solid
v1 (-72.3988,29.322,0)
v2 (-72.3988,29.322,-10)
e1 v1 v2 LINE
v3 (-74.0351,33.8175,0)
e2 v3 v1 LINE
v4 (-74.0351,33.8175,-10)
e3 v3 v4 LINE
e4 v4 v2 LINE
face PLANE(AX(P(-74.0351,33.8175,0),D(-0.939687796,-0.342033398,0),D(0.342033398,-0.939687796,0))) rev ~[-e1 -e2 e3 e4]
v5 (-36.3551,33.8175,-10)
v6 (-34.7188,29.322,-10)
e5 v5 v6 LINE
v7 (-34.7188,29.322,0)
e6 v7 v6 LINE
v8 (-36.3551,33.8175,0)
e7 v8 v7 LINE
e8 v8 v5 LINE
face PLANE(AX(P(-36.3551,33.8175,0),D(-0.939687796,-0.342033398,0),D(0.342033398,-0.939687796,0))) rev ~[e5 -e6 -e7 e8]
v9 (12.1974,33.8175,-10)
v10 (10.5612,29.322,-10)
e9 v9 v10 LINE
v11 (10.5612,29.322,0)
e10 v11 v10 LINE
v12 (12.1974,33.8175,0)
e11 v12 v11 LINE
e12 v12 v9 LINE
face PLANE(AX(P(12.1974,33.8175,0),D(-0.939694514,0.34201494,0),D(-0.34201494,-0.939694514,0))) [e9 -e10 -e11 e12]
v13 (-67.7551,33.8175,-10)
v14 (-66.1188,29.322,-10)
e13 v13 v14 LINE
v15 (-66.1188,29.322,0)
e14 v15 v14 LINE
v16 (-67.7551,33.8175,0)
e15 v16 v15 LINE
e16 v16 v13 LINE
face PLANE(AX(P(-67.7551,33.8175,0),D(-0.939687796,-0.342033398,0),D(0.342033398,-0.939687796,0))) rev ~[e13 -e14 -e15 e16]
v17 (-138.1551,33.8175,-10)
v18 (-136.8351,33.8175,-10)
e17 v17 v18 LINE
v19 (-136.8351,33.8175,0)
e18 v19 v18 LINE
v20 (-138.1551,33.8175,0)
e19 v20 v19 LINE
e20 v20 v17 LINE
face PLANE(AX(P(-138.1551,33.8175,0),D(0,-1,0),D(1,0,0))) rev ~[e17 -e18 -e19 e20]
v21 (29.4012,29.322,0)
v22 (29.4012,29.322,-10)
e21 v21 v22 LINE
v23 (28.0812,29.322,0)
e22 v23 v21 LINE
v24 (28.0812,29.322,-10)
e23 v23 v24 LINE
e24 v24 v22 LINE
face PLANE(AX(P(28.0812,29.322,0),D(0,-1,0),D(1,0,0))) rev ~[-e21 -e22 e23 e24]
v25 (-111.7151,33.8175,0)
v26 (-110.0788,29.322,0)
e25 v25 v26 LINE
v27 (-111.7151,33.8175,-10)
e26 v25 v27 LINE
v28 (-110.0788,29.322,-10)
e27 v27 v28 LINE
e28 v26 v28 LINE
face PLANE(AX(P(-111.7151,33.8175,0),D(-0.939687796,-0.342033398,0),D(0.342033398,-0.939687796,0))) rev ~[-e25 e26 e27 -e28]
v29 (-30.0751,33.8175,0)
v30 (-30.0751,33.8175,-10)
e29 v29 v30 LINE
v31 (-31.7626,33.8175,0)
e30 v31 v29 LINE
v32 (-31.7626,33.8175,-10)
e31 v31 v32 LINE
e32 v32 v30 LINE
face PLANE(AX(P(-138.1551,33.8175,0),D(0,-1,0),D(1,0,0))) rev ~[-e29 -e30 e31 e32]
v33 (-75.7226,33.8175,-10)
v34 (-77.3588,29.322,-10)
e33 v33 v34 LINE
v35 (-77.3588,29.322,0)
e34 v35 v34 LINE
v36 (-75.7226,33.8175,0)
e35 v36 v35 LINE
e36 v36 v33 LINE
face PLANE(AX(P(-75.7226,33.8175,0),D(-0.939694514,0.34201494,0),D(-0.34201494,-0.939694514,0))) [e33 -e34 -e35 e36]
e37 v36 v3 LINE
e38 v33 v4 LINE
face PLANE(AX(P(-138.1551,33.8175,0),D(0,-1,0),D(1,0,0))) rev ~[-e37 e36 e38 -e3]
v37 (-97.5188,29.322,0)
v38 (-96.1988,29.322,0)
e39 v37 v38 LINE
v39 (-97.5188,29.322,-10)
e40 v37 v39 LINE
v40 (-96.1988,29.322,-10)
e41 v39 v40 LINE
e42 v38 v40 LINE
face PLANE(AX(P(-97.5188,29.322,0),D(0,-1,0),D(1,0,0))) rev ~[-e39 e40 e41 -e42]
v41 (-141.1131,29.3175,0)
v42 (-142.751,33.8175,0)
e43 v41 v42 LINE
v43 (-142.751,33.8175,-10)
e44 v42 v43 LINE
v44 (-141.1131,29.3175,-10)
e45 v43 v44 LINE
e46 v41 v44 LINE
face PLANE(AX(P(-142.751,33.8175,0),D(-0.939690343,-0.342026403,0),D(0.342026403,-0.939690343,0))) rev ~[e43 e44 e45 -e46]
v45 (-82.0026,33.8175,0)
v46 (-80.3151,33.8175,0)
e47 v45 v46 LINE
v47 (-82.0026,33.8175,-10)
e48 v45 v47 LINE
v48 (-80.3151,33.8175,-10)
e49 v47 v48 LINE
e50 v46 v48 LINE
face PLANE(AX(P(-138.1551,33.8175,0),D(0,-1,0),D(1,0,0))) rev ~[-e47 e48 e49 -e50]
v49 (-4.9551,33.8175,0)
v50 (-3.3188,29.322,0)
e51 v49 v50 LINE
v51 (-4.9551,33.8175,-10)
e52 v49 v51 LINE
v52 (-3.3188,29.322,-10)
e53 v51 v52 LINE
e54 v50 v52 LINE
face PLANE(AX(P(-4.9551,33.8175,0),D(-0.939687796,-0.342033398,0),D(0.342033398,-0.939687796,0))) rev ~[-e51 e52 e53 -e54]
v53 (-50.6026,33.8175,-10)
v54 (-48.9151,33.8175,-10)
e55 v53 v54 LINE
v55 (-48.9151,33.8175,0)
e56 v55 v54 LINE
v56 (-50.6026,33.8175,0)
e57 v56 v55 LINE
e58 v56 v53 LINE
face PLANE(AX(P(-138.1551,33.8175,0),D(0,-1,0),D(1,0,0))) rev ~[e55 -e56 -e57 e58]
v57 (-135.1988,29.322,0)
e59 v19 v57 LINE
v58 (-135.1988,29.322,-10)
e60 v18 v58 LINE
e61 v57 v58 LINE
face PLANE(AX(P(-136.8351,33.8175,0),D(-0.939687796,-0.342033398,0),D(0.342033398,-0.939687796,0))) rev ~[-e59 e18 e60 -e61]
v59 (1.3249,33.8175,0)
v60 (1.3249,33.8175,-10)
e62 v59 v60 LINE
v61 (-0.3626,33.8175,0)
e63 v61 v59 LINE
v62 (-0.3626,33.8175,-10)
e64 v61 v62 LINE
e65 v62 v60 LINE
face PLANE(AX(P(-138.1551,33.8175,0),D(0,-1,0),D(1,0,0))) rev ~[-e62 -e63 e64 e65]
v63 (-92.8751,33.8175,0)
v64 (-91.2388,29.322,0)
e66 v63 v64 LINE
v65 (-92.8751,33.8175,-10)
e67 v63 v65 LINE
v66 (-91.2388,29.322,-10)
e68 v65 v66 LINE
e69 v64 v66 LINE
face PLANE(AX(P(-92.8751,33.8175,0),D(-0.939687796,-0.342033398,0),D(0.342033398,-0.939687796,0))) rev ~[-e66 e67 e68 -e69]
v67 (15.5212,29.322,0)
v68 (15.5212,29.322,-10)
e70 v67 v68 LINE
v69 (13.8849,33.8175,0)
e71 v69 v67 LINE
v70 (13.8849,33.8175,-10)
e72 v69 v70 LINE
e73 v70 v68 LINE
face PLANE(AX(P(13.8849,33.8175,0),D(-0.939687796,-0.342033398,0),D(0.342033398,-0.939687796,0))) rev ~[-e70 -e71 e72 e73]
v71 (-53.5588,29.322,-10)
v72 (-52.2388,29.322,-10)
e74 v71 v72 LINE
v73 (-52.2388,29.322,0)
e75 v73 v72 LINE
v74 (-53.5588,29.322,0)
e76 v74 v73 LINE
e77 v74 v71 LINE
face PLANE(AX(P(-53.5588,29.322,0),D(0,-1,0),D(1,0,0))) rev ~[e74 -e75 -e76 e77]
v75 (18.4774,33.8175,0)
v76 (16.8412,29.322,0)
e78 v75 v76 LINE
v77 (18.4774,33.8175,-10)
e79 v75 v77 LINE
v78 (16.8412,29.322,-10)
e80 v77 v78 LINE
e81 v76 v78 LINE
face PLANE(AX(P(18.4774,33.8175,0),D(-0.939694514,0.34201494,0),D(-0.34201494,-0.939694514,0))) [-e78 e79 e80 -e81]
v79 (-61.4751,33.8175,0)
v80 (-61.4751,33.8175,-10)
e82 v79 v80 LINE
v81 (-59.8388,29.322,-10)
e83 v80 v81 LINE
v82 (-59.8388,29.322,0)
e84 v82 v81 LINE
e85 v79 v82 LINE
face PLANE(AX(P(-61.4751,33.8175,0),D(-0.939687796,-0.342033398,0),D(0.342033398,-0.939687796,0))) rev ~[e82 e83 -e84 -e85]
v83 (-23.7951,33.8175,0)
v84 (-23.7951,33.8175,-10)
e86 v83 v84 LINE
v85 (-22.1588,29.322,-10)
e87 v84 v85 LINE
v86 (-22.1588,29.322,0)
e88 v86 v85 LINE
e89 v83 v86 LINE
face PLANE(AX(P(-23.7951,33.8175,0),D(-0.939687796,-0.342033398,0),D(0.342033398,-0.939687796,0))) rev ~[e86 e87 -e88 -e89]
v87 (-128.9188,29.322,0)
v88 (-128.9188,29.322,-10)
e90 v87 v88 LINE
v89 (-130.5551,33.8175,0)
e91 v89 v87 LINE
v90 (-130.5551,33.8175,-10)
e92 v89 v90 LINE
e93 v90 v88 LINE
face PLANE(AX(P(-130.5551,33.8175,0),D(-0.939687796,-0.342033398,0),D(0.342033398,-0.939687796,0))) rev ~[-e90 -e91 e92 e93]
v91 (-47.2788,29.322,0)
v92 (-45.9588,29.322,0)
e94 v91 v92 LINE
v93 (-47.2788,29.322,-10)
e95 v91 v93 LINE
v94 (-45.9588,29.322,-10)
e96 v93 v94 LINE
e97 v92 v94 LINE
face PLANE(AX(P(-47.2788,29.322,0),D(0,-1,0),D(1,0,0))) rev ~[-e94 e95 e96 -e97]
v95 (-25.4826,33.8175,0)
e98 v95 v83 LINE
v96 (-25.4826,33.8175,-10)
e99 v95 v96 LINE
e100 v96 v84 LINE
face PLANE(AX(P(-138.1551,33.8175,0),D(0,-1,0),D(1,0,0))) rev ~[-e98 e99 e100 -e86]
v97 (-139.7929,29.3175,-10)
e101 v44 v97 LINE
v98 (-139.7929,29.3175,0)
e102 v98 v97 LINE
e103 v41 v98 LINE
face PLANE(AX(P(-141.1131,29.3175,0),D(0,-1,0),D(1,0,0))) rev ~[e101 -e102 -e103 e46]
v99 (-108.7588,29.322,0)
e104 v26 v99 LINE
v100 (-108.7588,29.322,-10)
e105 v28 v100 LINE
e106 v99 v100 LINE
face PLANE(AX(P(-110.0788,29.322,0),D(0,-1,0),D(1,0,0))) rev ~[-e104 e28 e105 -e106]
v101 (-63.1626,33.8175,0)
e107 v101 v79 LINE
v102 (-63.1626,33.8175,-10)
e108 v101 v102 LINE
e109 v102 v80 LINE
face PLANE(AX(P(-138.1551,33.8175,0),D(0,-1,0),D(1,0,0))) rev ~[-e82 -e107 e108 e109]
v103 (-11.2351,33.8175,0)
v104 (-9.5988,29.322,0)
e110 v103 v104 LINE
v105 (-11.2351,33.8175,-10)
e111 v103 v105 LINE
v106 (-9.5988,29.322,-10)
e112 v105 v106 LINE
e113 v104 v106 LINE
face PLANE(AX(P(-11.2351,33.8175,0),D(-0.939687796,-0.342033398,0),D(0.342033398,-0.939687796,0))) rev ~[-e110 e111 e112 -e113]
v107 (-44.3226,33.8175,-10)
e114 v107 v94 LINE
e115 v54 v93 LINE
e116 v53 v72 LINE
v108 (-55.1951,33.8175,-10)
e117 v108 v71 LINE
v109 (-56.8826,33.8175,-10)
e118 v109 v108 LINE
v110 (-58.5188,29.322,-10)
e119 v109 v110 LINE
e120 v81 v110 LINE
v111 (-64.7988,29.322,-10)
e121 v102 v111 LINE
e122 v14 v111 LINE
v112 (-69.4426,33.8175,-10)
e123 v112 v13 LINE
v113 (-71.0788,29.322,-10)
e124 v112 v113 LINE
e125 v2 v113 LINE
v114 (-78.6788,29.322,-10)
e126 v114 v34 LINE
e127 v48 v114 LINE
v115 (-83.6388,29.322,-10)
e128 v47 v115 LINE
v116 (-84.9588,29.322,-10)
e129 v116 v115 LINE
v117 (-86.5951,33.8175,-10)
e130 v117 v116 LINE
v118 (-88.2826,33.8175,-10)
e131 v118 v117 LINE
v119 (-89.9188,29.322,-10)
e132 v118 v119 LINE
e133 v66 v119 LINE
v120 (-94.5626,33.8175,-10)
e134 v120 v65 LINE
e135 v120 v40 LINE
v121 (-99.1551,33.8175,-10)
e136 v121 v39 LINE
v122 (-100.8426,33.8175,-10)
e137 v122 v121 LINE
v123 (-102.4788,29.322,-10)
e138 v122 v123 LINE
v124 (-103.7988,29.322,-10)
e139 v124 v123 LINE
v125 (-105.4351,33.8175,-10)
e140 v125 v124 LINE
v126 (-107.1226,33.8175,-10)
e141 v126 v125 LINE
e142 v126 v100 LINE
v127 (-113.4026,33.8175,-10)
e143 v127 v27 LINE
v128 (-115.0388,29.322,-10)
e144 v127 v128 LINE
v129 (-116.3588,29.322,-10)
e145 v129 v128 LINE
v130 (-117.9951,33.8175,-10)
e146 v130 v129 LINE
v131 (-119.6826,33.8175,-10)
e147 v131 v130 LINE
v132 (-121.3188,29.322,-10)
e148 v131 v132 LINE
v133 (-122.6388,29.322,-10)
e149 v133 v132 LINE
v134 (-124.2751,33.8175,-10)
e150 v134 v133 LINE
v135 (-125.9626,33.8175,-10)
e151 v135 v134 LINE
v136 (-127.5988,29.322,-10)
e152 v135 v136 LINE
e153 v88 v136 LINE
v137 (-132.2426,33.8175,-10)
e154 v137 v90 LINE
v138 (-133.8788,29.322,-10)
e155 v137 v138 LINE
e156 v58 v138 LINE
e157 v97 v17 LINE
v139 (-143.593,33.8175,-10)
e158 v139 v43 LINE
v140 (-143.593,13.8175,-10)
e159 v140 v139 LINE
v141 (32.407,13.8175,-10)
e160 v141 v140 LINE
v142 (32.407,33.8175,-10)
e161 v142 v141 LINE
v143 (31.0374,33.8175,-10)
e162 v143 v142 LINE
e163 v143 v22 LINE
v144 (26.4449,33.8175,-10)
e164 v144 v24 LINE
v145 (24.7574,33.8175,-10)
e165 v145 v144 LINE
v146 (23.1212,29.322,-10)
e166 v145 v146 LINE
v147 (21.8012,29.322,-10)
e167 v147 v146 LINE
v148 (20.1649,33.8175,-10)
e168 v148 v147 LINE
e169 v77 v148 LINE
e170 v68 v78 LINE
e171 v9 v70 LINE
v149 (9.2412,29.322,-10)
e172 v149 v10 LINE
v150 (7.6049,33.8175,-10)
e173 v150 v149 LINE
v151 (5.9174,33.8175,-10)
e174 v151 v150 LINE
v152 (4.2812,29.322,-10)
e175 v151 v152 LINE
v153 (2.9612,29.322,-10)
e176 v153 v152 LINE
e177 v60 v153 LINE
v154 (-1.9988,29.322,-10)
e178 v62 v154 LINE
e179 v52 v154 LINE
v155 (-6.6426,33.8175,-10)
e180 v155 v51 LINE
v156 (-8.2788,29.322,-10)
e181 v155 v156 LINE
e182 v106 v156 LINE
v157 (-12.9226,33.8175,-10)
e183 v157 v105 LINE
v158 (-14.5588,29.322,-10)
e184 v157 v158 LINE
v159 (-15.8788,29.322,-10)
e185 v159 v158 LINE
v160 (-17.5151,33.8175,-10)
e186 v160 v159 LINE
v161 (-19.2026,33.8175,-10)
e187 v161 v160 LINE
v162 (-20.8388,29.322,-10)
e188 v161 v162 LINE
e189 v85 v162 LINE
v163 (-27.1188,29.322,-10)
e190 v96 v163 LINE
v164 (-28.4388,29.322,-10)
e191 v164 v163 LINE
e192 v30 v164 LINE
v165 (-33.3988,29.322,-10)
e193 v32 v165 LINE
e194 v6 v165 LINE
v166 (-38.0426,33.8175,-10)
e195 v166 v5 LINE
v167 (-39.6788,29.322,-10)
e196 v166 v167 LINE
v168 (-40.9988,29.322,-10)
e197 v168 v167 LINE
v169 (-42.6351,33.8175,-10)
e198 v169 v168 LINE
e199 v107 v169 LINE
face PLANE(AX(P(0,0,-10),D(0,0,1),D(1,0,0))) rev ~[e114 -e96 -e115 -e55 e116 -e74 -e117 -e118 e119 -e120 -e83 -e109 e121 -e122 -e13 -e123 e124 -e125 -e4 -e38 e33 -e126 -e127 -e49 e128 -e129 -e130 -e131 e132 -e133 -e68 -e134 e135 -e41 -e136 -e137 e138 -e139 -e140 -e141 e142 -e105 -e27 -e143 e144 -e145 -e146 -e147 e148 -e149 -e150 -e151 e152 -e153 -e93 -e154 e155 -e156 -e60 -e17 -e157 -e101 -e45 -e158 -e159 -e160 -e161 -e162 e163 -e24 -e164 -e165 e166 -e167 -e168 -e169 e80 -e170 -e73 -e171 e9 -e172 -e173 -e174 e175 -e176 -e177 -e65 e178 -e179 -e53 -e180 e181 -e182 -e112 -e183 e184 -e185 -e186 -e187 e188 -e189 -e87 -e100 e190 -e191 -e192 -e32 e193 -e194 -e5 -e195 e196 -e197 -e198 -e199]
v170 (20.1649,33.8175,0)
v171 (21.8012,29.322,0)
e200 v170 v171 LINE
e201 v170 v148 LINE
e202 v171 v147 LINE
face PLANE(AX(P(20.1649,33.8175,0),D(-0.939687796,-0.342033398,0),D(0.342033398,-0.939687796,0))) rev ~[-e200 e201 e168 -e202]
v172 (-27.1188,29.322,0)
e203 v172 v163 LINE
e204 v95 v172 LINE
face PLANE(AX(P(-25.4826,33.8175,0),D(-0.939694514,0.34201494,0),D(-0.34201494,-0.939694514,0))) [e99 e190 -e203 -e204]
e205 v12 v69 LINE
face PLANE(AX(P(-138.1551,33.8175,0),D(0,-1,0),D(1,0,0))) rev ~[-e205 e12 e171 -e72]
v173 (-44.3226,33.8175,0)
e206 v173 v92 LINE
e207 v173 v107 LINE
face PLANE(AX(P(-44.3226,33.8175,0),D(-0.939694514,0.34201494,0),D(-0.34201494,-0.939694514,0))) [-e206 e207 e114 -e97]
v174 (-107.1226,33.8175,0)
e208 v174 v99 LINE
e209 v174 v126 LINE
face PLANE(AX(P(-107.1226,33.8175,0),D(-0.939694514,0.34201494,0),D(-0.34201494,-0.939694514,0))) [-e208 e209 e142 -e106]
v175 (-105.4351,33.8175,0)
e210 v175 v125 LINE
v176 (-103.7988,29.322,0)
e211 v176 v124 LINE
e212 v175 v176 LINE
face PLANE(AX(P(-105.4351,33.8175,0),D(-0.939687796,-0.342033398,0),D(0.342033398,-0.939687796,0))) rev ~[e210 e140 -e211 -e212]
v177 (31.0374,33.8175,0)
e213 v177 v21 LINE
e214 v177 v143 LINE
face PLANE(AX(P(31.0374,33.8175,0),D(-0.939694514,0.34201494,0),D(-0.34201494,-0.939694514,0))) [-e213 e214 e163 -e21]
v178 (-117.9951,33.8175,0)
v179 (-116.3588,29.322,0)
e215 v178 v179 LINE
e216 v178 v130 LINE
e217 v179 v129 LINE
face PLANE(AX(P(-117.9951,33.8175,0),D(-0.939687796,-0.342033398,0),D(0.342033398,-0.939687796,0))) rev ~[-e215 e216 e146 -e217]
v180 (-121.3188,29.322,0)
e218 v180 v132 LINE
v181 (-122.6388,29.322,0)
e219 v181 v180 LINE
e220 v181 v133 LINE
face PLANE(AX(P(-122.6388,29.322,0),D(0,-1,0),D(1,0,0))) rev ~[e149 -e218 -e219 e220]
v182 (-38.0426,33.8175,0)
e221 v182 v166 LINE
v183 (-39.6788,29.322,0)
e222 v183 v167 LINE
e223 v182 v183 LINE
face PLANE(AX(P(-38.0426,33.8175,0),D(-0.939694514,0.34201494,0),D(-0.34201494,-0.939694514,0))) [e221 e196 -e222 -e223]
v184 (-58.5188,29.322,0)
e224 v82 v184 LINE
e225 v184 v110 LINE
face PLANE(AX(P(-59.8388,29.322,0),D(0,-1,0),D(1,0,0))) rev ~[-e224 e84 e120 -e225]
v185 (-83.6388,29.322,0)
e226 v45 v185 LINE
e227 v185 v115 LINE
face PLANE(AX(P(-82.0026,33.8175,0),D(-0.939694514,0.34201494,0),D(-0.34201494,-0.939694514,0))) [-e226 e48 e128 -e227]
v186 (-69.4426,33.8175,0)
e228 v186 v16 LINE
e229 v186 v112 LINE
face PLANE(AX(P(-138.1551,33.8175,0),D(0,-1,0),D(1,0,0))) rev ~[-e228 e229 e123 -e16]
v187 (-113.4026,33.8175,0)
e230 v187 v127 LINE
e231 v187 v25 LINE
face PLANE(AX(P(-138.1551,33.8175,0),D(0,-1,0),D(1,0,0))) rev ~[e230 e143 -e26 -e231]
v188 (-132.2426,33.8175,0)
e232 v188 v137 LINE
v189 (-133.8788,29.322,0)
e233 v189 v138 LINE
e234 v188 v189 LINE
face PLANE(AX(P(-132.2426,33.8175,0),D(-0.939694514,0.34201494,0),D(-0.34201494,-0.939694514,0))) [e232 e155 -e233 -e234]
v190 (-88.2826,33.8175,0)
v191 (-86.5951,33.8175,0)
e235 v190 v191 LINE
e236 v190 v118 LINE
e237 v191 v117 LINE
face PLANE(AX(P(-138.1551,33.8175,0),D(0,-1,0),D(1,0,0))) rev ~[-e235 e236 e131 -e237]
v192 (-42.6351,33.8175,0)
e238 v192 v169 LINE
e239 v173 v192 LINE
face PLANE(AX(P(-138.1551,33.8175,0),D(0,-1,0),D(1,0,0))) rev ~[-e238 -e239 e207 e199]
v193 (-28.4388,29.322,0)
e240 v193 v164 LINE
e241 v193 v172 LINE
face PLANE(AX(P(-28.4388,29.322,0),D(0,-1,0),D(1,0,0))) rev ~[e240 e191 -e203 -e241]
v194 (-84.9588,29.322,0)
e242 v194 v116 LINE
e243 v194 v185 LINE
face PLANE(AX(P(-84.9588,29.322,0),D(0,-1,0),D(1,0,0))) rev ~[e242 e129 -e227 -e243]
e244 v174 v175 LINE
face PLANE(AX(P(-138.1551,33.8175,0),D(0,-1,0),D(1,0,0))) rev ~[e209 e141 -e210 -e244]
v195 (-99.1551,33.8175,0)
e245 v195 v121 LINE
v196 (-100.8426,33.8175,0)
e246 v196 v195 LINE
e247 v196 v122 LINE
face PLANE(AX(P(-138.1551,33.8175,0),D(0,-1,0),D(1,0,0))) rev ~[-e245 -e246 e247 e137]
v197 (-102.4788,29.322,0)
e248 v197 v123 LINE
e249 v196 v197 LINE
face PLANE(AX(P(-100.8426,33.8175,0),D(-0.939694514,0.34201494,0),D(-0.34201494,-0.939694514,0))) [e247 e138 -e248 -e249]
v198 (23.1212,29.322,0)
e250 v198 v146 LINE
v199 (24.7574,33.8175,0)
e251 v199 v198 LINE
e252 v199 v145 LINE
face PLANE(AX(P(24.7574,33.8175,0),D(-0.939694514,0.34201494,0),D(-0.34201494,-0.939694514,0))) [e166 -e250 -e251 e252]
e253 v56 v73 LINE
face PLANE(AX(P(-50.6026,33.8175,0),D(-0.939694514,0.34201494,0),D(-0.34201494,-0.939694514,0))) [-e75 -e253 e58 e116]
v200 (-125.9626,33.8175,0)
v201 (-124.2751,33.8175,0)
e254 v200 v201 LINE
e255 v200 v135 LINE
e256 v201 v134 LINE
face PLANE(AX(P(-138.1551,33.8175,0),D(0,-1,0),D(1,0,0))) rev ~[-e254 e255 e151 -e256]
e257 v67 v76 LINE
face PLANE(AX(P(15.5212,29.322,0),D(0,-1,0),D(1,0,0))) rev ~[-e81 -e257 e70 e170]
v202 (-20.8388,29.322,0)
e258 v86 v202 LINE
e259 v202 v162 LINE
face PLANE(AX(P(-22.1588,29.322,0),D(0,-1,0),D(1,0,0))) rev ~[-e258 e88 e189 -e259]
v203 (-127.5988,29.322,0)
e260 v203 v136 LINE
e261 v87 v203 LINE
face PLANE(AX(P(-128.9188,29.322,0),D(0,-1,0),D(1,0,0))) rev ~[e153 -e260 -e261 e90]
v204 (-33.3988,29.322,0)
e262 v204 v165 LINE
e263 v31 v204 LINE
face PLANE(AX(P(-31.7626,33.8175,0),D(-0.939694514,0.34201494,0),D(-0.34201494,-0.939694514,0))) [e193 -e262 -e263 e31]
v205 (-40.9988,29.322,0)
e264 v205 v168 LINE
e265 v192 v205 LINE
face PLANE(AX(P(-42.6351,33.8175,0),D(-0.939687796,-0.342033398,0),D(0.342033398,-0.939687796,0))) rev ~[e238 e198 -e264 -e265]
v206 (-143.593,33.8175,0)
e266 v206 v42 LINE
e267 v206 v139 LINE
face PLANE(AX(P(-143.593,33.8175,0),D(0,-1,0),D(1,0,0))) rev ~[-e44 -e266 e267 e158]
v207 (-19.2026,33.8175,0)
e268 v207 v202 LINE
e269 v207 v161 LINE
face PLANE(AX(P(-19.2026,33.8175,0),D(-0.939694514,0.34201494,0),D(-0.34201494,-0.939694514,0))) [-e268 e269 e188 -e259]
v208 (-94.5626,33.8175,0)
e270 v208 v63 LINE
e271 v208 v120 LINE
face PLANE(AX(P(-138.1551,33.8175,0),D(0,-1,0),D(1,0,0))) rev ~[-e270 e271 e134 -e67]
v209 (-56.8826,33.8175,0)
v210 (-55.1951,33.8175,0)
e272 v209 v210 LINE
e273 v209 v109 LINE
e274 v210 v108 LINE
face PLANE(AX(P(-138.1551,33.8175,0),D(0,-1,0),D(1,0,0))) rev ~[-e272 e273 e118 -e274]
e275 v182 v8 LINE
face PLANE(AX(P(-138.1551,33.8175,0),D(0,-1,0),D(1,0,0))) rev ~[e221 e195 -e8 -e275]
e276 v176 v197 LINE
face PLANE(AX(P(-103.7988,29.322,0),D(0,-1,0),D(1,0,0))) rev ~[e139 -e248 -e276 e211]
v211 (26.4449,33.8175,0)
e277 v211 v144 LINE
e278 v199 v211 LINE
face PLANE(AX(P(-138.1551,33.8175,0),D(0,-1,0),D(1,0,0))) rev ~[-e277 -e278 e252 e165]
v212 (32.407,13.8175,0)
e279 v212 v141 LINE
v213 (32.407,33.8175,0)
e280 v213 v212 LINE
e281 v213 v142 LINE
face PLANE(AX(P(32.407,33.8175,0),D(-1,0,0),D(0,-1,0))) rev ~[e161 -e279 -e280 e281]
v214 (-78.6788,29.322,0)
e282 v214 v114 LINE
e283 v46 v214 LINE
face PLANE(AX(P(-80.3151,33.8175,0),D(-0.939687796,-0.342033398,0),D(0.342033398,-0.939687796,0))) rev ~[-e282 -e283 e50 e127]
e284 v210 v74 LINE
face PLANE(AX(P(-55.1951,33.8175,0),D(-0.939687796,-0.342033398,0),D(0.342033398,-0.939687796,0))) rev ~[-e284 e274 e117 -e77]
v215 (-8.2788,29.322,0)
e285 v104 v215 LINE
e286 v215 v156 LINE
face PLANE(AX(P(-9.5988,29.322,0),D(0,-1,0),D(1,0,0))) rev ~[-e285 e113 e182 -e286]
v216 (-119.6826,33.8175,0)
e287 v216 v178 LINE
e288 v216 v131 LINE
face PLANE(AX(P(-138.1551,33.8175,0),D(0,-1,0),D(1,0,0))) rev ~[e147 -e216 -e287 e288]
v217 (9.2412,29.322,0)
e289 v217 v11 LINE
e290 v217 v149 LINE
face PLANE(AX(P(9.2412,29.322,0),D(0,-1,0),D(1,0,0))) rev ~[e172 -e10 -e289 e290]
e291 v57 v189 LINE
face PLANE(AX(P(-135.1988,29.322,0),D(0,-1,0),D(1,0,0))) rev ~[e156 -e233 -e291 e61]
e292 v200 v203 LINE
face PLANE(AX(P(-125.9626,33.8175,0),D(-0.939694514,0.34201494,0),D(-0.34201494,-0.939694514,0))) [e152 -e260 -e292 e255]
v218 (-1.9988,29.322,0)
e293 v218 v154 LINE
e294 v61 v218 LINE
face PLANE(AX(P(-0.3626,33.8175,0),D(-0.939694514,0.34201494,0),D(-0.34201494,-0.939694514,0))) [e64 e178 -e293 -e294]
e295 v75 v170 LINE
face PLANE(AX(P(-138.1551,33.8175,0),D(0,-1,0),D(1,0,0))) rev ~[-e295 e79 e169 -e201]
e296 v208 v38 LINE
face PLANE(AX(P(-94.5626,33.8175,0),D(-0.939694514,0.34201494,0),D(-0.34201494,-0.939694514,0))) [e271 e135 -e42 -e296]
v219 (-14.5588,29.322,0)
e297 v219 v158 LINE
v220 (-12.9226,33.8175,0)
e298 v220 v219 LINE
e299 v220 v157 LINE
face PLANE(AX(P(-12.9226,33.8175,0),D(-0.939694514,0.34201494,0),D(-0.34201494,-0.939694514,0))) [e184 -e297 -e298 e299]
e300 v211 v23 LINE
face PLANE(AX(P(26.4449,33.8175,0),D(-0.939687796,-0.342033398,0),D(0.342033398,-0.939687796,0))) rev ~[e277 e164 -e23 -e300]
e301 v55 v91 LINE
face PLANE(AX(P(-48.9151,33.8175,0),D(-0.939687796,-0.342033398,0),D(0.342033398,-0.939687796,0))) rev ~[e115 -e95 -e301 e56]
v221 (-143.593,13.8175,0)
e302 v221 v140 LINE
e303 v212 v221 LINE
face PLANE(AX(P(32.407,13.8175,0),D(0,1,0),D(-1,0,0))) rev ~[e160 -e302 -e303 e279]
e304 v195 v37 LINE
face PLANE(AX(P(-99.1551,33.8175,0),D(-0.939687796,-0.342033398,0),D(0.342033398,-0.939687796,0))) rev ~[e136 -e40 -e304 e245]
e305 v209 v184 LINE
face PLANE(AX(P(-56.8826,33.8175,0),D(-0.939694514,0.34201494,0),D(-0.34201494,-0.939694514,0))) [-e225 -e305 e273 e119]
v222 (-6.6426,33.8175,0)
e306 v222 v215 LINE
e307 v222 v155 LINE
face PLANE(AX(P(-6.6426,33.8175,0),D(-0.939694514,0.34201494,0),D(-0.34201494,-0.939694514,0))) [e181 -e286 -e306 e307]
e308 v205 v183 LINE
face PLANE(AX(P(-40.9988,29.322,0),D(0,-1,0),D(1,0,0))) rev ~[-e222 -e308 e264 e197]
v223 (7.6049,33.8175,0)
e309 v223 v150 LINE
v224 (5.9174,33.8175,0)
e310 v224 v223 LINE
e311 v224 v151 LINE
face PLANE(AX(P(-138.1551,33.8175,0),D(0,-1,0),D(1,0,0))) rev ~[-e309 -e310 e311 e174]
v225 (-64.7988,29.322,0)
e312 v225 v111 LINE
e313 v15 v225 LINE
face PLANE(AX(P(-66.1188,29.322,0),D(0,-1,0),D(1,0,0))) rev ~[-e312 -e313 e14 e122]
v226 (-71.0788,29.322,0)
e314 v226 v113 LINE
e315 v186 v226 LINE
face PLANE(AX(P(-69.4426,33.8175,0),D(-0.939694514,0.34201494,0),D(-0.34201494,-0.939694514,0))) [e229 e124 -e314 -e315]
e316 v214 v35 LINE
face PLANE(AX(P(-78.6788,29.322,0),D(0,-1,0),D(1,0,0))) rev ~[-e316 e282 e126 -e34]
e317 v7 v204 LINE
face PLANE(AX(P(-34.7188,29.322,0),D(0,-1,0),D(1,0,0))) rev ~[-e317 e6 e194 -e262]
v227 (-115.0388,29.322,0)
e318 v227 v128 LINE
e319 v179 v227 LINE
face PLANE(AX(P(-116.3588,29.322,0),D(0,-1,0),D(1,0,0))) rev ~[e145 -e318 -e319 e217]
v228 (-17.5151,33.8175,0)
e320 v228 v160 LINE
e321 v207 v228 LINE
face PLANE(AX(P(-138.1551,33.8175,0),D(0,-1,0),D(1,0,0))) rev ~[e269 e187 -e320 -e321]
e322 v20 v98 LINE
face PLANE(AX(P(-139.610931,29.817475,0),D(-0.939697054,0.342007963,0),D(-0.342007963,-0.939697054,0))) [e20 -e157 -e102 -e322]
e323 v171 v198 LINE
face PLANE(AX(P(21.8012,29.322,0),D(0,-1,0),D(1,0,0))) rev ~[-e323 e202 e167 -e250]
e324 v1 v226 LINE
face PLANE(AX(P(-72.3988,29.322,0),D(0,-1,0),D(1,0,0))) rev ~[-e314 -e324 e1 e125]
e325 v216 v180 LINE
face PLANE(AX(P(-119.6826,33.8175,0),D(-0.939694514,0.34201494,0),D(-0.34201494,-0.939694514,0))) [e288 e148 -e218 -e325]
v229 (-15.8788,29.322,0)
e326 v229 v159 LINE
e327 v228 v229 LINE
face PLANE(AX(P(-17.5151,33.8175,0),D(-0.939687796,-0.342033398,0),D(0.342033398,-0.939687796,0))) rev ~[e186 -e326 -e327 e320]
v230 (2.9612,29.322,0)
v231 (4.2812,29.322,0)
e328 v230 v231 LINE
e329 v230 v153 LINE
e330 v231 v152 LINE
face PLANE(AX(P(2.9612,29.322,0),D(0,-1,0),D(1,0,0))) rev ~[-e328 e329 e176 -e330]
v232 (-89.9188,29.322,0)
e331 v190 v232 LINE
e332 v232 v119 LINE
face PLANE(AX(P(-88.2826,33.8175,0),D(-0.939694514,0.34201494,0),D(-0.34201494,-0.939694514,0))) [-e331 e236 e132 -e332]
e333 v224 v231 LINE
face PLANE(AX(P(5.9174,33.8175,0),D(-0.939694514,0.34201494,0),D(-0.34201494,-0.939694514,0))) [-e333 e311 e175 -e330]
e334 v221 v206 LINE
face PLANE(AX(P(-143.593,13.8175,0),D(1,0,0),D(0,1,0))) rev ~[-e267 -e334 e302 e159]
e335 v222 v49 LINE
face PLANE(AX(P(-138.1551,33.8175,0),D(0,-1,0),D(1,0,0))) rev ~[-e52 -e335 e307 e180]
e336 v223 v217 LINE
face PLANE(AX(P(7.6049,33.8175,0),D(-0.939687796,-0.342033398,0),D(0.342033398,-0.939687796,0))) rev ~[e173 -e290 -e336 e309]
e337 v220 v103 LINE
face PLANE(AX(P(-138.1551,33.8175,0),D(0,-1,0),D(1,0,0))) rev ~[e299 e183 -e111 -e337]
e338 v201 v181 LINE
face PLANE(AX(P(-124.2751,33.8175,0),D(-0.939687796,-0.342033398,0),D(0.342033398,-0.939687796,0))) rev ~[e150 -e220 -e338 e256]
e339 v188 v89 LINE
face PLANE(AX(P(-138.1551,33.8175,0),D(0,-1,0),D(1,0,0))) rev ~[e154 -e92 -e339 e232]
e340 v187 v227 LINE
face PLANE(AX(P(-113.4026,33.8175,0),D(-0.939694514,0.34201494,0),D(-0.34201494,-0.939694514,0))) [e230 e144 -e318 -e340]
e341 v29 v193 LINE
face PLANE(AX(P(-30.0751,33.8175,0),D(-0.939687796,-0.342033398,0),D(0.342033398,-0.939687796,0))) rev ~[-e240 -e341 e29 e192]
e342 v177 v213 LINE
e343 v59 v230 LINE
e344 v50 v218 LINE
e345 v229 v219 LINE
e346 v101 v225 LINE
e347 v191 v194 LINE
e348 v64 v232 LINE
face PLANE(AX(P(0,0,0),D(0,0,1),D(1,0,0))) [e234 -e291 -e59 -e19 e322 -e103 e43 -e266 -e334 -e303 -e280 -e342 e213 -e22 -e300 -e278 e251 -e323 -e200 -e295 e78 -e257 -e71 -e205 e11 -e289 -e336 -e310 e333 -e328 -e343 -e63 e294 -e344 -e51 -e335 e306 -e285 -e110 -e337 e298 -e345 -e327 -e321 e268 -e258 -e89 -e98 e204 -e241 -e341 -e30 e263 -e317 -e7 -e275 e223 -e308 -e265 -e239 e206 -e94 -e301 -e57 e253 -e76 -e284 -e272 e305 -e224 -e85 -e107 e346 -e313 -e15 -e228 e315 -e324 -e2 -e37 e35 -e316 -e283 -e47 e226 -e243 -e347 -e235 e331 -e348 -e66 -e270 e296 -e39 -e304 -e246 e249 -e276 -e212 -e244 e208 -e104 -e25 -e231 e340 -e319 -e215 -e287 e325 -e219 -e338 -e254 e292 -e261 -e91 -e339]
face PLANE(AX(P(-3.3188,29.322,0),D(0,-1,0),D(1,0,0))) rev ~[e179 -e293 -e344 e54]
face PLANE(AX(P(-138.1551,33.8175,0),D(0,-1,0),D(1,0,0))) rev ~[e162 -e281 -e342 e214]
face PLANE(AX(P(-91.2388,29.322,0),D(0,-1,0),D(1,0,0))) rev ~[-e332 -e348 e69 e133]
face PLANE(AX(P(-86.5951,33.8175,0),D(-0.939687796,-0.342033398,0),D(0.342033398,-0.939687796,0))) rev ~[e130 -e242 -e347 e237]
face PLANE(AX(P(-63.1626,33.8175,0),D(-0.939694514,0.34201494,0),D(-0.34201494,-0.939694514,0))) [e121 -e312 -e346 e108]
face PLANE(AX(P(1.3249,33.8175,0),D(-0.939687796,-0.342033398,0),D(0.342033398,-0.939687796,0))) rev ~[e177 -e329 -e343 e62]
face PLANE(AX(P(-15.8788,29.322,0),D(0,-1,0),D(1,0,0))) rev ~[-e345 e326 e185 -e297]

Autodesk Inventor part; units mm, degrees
ref_plane "YZ Plane" through (0, 0, 0) normal (1, 0, 0) x (0, 1, 0)
ref_plane "XZ Plane" through (0, 0, 0) normal (0, 1, 0) x (-1, 0, 0)
ref_plane "XY Plane" through (0, 0, 0) normal (0, 0, 1) x (1, 0, 0)
sketch "스케치1" plane through (0, 0, 0) normal (0, 0, 1) x (1, 0, 0)
  line L0 (32.407, 33.8175) -> (32.407, 13.8175)
  line L1 (32.407, 13.8175) -> (-143.593, 13.8175)
  line L2 (-143.593, 13.8175) -> (-143.593, 33.8175)
  line L3 (-143.593, 29.3175) -> (32.407, 29.3175) construction
  line L4 (32.407, 31.8175) -> (-143.593, 31.8175) construction
  line L5 (-143.593, 29.8175) -> (32.407, 29.8175) construction
  line L6 (-140.453, 26.9927) -> (-140.453, 39.5951) construction
  line L7 (-137.313, 29.3175) -> (-137.313, 39.4326) construction
  line L8 (-142.751, 33.8175) -> (-141.1131, 29.3175)
  line L9 (-138.1551, 33.8175) -> (-139.7929, 29.3175)
  line L10 (-142.751, 33.8175) -> (-141.2951, 29.8175)
  line L11 (-138.1551, 33.8175) -> (-139.611, 29.8175)
  line L12 (-138.883, 31.8175) -> (-142.023, 31.8175) construction
  line L13 (-143.593, 33.8175) -> (-142.751, 33.8175)
  line L14 (-138.1551, 33.8175) -> (32.407, 33.8175)
  line L15 (-141.1131, 29.3175) -> (-139.7929, 29.3175)
  point P0 (0, 0)
  dimension "d0" = 176
  dimension "d1" = 20
  dimension "d6" = 2
  dimension "d8" = 6.28
  dimension "d10" = 20
  dimension "d11" = 3.14
  dimension "d12" = 3.14
extrude "돌출1" add sketch "스케치1" against normal blind 10
sketch "스케치2" plane through (0, 0, 0) normal (0, 0, 1) x (1, 0, 0)
  line L0 (-259.941, 24.3877) -> (-259.941, 44.3877)
  line L1 (-256.801, 37.5629) -> (-256.801, 50.1653) construction
  line L2 (-253.661, 39.8877) -> (-253.661, 50.0028) construction
  line L3 (-259.0989, 44.3877) -> (-257.461, 39.8877)
  line L4 (-254.503, 44.3877) -> (-256.1409, 39.8877)
  line L5 (-259.0989, 44.3877) -> (-257.643, 40.3877)
  line L6 (-254.503, 44.3877) -> (-255.9589, 40.3877)
  line L7 (-255.231, 42.3877) -> (-258.371, 42.3877) construction
  line L8 (-259.941, 44.3877) -> (-259.0989, 44.3877)
  line L9 (-257.461, 39.8877) -> (-256.1409, 39.8877)
  line L10 (-143.5947, 29.322) -> (106.4053, 29.322) construction
  line L11 (-143.5963, 29.822) -> (106.4037, 29.822) construction
  line L12 (-140.4548, 26.9971) -> (-140.4548, 39.5996) construction
  line L13 (-137.4951, 29.322) -> (-137.4951, 39.3835) construction
  line L14 (-142.751, 33.8175) -> (-141.1148, 29.322)
  line L15 (-138.1585, 33.8175) -> (-139.7948, 29.322)
  line L16 (-138.8863, 31.822) -> (-142.0263, 31.822) construction
  line L17 (-143.593, 33.8175) -> (-142.751, 33.8175)
  line L18 (-141.1148, 29.322) -> (-139.7948, 29.322)
  line L19 (-137.306, 29.822) -> (112.694, 29.822) construction
  line L20 (-134.5388, 26.9971) -> (-134.5388, 39.5996) construction
  line L21 (-131.2358, 28.8786) -> (-131.2358, 38.9936) construction
  line L22 (-136.8351, 33.8175) -> (-135.1988, 29.322)
  line L23 (-132.2426, 33.8175) -> (-133.8788, 29.322)
  line L24 (-138.1585, 33.8175) -> (-136.8351, 33.8175)
  line L25 (-138.1551, 33.8175) -> (32.407, 33.8175) projected
  line L26 (-135.1988, 29.322) -> (-133.8788, 29.322)
  point P0 (0, 0)
  point P1 (-116.3479, 10.5702)
  dimension "d19" = 6.28
  dimension "d20" = 20
  dimension "d21" = 3.14
  dimension "d22" = 3.14
  dimension "d23" = 20
  dimension "d24" = 3.14
  dimension "d25" = 20
  dimension "d27" = 1.32
  dimension "d28" = 1.32
  dimension "d29" = 0.842
  dimension "d36" = 1.32
  dimension "d37" = 0.66
extrude "돌출2" cut sketch "스케치2" against normal blind 10
pattern_linear "직사각형 패턴2" count 39 spacing 6.28 along (1, 0, 0) of "돌출2"
properties part number "래크수정"
